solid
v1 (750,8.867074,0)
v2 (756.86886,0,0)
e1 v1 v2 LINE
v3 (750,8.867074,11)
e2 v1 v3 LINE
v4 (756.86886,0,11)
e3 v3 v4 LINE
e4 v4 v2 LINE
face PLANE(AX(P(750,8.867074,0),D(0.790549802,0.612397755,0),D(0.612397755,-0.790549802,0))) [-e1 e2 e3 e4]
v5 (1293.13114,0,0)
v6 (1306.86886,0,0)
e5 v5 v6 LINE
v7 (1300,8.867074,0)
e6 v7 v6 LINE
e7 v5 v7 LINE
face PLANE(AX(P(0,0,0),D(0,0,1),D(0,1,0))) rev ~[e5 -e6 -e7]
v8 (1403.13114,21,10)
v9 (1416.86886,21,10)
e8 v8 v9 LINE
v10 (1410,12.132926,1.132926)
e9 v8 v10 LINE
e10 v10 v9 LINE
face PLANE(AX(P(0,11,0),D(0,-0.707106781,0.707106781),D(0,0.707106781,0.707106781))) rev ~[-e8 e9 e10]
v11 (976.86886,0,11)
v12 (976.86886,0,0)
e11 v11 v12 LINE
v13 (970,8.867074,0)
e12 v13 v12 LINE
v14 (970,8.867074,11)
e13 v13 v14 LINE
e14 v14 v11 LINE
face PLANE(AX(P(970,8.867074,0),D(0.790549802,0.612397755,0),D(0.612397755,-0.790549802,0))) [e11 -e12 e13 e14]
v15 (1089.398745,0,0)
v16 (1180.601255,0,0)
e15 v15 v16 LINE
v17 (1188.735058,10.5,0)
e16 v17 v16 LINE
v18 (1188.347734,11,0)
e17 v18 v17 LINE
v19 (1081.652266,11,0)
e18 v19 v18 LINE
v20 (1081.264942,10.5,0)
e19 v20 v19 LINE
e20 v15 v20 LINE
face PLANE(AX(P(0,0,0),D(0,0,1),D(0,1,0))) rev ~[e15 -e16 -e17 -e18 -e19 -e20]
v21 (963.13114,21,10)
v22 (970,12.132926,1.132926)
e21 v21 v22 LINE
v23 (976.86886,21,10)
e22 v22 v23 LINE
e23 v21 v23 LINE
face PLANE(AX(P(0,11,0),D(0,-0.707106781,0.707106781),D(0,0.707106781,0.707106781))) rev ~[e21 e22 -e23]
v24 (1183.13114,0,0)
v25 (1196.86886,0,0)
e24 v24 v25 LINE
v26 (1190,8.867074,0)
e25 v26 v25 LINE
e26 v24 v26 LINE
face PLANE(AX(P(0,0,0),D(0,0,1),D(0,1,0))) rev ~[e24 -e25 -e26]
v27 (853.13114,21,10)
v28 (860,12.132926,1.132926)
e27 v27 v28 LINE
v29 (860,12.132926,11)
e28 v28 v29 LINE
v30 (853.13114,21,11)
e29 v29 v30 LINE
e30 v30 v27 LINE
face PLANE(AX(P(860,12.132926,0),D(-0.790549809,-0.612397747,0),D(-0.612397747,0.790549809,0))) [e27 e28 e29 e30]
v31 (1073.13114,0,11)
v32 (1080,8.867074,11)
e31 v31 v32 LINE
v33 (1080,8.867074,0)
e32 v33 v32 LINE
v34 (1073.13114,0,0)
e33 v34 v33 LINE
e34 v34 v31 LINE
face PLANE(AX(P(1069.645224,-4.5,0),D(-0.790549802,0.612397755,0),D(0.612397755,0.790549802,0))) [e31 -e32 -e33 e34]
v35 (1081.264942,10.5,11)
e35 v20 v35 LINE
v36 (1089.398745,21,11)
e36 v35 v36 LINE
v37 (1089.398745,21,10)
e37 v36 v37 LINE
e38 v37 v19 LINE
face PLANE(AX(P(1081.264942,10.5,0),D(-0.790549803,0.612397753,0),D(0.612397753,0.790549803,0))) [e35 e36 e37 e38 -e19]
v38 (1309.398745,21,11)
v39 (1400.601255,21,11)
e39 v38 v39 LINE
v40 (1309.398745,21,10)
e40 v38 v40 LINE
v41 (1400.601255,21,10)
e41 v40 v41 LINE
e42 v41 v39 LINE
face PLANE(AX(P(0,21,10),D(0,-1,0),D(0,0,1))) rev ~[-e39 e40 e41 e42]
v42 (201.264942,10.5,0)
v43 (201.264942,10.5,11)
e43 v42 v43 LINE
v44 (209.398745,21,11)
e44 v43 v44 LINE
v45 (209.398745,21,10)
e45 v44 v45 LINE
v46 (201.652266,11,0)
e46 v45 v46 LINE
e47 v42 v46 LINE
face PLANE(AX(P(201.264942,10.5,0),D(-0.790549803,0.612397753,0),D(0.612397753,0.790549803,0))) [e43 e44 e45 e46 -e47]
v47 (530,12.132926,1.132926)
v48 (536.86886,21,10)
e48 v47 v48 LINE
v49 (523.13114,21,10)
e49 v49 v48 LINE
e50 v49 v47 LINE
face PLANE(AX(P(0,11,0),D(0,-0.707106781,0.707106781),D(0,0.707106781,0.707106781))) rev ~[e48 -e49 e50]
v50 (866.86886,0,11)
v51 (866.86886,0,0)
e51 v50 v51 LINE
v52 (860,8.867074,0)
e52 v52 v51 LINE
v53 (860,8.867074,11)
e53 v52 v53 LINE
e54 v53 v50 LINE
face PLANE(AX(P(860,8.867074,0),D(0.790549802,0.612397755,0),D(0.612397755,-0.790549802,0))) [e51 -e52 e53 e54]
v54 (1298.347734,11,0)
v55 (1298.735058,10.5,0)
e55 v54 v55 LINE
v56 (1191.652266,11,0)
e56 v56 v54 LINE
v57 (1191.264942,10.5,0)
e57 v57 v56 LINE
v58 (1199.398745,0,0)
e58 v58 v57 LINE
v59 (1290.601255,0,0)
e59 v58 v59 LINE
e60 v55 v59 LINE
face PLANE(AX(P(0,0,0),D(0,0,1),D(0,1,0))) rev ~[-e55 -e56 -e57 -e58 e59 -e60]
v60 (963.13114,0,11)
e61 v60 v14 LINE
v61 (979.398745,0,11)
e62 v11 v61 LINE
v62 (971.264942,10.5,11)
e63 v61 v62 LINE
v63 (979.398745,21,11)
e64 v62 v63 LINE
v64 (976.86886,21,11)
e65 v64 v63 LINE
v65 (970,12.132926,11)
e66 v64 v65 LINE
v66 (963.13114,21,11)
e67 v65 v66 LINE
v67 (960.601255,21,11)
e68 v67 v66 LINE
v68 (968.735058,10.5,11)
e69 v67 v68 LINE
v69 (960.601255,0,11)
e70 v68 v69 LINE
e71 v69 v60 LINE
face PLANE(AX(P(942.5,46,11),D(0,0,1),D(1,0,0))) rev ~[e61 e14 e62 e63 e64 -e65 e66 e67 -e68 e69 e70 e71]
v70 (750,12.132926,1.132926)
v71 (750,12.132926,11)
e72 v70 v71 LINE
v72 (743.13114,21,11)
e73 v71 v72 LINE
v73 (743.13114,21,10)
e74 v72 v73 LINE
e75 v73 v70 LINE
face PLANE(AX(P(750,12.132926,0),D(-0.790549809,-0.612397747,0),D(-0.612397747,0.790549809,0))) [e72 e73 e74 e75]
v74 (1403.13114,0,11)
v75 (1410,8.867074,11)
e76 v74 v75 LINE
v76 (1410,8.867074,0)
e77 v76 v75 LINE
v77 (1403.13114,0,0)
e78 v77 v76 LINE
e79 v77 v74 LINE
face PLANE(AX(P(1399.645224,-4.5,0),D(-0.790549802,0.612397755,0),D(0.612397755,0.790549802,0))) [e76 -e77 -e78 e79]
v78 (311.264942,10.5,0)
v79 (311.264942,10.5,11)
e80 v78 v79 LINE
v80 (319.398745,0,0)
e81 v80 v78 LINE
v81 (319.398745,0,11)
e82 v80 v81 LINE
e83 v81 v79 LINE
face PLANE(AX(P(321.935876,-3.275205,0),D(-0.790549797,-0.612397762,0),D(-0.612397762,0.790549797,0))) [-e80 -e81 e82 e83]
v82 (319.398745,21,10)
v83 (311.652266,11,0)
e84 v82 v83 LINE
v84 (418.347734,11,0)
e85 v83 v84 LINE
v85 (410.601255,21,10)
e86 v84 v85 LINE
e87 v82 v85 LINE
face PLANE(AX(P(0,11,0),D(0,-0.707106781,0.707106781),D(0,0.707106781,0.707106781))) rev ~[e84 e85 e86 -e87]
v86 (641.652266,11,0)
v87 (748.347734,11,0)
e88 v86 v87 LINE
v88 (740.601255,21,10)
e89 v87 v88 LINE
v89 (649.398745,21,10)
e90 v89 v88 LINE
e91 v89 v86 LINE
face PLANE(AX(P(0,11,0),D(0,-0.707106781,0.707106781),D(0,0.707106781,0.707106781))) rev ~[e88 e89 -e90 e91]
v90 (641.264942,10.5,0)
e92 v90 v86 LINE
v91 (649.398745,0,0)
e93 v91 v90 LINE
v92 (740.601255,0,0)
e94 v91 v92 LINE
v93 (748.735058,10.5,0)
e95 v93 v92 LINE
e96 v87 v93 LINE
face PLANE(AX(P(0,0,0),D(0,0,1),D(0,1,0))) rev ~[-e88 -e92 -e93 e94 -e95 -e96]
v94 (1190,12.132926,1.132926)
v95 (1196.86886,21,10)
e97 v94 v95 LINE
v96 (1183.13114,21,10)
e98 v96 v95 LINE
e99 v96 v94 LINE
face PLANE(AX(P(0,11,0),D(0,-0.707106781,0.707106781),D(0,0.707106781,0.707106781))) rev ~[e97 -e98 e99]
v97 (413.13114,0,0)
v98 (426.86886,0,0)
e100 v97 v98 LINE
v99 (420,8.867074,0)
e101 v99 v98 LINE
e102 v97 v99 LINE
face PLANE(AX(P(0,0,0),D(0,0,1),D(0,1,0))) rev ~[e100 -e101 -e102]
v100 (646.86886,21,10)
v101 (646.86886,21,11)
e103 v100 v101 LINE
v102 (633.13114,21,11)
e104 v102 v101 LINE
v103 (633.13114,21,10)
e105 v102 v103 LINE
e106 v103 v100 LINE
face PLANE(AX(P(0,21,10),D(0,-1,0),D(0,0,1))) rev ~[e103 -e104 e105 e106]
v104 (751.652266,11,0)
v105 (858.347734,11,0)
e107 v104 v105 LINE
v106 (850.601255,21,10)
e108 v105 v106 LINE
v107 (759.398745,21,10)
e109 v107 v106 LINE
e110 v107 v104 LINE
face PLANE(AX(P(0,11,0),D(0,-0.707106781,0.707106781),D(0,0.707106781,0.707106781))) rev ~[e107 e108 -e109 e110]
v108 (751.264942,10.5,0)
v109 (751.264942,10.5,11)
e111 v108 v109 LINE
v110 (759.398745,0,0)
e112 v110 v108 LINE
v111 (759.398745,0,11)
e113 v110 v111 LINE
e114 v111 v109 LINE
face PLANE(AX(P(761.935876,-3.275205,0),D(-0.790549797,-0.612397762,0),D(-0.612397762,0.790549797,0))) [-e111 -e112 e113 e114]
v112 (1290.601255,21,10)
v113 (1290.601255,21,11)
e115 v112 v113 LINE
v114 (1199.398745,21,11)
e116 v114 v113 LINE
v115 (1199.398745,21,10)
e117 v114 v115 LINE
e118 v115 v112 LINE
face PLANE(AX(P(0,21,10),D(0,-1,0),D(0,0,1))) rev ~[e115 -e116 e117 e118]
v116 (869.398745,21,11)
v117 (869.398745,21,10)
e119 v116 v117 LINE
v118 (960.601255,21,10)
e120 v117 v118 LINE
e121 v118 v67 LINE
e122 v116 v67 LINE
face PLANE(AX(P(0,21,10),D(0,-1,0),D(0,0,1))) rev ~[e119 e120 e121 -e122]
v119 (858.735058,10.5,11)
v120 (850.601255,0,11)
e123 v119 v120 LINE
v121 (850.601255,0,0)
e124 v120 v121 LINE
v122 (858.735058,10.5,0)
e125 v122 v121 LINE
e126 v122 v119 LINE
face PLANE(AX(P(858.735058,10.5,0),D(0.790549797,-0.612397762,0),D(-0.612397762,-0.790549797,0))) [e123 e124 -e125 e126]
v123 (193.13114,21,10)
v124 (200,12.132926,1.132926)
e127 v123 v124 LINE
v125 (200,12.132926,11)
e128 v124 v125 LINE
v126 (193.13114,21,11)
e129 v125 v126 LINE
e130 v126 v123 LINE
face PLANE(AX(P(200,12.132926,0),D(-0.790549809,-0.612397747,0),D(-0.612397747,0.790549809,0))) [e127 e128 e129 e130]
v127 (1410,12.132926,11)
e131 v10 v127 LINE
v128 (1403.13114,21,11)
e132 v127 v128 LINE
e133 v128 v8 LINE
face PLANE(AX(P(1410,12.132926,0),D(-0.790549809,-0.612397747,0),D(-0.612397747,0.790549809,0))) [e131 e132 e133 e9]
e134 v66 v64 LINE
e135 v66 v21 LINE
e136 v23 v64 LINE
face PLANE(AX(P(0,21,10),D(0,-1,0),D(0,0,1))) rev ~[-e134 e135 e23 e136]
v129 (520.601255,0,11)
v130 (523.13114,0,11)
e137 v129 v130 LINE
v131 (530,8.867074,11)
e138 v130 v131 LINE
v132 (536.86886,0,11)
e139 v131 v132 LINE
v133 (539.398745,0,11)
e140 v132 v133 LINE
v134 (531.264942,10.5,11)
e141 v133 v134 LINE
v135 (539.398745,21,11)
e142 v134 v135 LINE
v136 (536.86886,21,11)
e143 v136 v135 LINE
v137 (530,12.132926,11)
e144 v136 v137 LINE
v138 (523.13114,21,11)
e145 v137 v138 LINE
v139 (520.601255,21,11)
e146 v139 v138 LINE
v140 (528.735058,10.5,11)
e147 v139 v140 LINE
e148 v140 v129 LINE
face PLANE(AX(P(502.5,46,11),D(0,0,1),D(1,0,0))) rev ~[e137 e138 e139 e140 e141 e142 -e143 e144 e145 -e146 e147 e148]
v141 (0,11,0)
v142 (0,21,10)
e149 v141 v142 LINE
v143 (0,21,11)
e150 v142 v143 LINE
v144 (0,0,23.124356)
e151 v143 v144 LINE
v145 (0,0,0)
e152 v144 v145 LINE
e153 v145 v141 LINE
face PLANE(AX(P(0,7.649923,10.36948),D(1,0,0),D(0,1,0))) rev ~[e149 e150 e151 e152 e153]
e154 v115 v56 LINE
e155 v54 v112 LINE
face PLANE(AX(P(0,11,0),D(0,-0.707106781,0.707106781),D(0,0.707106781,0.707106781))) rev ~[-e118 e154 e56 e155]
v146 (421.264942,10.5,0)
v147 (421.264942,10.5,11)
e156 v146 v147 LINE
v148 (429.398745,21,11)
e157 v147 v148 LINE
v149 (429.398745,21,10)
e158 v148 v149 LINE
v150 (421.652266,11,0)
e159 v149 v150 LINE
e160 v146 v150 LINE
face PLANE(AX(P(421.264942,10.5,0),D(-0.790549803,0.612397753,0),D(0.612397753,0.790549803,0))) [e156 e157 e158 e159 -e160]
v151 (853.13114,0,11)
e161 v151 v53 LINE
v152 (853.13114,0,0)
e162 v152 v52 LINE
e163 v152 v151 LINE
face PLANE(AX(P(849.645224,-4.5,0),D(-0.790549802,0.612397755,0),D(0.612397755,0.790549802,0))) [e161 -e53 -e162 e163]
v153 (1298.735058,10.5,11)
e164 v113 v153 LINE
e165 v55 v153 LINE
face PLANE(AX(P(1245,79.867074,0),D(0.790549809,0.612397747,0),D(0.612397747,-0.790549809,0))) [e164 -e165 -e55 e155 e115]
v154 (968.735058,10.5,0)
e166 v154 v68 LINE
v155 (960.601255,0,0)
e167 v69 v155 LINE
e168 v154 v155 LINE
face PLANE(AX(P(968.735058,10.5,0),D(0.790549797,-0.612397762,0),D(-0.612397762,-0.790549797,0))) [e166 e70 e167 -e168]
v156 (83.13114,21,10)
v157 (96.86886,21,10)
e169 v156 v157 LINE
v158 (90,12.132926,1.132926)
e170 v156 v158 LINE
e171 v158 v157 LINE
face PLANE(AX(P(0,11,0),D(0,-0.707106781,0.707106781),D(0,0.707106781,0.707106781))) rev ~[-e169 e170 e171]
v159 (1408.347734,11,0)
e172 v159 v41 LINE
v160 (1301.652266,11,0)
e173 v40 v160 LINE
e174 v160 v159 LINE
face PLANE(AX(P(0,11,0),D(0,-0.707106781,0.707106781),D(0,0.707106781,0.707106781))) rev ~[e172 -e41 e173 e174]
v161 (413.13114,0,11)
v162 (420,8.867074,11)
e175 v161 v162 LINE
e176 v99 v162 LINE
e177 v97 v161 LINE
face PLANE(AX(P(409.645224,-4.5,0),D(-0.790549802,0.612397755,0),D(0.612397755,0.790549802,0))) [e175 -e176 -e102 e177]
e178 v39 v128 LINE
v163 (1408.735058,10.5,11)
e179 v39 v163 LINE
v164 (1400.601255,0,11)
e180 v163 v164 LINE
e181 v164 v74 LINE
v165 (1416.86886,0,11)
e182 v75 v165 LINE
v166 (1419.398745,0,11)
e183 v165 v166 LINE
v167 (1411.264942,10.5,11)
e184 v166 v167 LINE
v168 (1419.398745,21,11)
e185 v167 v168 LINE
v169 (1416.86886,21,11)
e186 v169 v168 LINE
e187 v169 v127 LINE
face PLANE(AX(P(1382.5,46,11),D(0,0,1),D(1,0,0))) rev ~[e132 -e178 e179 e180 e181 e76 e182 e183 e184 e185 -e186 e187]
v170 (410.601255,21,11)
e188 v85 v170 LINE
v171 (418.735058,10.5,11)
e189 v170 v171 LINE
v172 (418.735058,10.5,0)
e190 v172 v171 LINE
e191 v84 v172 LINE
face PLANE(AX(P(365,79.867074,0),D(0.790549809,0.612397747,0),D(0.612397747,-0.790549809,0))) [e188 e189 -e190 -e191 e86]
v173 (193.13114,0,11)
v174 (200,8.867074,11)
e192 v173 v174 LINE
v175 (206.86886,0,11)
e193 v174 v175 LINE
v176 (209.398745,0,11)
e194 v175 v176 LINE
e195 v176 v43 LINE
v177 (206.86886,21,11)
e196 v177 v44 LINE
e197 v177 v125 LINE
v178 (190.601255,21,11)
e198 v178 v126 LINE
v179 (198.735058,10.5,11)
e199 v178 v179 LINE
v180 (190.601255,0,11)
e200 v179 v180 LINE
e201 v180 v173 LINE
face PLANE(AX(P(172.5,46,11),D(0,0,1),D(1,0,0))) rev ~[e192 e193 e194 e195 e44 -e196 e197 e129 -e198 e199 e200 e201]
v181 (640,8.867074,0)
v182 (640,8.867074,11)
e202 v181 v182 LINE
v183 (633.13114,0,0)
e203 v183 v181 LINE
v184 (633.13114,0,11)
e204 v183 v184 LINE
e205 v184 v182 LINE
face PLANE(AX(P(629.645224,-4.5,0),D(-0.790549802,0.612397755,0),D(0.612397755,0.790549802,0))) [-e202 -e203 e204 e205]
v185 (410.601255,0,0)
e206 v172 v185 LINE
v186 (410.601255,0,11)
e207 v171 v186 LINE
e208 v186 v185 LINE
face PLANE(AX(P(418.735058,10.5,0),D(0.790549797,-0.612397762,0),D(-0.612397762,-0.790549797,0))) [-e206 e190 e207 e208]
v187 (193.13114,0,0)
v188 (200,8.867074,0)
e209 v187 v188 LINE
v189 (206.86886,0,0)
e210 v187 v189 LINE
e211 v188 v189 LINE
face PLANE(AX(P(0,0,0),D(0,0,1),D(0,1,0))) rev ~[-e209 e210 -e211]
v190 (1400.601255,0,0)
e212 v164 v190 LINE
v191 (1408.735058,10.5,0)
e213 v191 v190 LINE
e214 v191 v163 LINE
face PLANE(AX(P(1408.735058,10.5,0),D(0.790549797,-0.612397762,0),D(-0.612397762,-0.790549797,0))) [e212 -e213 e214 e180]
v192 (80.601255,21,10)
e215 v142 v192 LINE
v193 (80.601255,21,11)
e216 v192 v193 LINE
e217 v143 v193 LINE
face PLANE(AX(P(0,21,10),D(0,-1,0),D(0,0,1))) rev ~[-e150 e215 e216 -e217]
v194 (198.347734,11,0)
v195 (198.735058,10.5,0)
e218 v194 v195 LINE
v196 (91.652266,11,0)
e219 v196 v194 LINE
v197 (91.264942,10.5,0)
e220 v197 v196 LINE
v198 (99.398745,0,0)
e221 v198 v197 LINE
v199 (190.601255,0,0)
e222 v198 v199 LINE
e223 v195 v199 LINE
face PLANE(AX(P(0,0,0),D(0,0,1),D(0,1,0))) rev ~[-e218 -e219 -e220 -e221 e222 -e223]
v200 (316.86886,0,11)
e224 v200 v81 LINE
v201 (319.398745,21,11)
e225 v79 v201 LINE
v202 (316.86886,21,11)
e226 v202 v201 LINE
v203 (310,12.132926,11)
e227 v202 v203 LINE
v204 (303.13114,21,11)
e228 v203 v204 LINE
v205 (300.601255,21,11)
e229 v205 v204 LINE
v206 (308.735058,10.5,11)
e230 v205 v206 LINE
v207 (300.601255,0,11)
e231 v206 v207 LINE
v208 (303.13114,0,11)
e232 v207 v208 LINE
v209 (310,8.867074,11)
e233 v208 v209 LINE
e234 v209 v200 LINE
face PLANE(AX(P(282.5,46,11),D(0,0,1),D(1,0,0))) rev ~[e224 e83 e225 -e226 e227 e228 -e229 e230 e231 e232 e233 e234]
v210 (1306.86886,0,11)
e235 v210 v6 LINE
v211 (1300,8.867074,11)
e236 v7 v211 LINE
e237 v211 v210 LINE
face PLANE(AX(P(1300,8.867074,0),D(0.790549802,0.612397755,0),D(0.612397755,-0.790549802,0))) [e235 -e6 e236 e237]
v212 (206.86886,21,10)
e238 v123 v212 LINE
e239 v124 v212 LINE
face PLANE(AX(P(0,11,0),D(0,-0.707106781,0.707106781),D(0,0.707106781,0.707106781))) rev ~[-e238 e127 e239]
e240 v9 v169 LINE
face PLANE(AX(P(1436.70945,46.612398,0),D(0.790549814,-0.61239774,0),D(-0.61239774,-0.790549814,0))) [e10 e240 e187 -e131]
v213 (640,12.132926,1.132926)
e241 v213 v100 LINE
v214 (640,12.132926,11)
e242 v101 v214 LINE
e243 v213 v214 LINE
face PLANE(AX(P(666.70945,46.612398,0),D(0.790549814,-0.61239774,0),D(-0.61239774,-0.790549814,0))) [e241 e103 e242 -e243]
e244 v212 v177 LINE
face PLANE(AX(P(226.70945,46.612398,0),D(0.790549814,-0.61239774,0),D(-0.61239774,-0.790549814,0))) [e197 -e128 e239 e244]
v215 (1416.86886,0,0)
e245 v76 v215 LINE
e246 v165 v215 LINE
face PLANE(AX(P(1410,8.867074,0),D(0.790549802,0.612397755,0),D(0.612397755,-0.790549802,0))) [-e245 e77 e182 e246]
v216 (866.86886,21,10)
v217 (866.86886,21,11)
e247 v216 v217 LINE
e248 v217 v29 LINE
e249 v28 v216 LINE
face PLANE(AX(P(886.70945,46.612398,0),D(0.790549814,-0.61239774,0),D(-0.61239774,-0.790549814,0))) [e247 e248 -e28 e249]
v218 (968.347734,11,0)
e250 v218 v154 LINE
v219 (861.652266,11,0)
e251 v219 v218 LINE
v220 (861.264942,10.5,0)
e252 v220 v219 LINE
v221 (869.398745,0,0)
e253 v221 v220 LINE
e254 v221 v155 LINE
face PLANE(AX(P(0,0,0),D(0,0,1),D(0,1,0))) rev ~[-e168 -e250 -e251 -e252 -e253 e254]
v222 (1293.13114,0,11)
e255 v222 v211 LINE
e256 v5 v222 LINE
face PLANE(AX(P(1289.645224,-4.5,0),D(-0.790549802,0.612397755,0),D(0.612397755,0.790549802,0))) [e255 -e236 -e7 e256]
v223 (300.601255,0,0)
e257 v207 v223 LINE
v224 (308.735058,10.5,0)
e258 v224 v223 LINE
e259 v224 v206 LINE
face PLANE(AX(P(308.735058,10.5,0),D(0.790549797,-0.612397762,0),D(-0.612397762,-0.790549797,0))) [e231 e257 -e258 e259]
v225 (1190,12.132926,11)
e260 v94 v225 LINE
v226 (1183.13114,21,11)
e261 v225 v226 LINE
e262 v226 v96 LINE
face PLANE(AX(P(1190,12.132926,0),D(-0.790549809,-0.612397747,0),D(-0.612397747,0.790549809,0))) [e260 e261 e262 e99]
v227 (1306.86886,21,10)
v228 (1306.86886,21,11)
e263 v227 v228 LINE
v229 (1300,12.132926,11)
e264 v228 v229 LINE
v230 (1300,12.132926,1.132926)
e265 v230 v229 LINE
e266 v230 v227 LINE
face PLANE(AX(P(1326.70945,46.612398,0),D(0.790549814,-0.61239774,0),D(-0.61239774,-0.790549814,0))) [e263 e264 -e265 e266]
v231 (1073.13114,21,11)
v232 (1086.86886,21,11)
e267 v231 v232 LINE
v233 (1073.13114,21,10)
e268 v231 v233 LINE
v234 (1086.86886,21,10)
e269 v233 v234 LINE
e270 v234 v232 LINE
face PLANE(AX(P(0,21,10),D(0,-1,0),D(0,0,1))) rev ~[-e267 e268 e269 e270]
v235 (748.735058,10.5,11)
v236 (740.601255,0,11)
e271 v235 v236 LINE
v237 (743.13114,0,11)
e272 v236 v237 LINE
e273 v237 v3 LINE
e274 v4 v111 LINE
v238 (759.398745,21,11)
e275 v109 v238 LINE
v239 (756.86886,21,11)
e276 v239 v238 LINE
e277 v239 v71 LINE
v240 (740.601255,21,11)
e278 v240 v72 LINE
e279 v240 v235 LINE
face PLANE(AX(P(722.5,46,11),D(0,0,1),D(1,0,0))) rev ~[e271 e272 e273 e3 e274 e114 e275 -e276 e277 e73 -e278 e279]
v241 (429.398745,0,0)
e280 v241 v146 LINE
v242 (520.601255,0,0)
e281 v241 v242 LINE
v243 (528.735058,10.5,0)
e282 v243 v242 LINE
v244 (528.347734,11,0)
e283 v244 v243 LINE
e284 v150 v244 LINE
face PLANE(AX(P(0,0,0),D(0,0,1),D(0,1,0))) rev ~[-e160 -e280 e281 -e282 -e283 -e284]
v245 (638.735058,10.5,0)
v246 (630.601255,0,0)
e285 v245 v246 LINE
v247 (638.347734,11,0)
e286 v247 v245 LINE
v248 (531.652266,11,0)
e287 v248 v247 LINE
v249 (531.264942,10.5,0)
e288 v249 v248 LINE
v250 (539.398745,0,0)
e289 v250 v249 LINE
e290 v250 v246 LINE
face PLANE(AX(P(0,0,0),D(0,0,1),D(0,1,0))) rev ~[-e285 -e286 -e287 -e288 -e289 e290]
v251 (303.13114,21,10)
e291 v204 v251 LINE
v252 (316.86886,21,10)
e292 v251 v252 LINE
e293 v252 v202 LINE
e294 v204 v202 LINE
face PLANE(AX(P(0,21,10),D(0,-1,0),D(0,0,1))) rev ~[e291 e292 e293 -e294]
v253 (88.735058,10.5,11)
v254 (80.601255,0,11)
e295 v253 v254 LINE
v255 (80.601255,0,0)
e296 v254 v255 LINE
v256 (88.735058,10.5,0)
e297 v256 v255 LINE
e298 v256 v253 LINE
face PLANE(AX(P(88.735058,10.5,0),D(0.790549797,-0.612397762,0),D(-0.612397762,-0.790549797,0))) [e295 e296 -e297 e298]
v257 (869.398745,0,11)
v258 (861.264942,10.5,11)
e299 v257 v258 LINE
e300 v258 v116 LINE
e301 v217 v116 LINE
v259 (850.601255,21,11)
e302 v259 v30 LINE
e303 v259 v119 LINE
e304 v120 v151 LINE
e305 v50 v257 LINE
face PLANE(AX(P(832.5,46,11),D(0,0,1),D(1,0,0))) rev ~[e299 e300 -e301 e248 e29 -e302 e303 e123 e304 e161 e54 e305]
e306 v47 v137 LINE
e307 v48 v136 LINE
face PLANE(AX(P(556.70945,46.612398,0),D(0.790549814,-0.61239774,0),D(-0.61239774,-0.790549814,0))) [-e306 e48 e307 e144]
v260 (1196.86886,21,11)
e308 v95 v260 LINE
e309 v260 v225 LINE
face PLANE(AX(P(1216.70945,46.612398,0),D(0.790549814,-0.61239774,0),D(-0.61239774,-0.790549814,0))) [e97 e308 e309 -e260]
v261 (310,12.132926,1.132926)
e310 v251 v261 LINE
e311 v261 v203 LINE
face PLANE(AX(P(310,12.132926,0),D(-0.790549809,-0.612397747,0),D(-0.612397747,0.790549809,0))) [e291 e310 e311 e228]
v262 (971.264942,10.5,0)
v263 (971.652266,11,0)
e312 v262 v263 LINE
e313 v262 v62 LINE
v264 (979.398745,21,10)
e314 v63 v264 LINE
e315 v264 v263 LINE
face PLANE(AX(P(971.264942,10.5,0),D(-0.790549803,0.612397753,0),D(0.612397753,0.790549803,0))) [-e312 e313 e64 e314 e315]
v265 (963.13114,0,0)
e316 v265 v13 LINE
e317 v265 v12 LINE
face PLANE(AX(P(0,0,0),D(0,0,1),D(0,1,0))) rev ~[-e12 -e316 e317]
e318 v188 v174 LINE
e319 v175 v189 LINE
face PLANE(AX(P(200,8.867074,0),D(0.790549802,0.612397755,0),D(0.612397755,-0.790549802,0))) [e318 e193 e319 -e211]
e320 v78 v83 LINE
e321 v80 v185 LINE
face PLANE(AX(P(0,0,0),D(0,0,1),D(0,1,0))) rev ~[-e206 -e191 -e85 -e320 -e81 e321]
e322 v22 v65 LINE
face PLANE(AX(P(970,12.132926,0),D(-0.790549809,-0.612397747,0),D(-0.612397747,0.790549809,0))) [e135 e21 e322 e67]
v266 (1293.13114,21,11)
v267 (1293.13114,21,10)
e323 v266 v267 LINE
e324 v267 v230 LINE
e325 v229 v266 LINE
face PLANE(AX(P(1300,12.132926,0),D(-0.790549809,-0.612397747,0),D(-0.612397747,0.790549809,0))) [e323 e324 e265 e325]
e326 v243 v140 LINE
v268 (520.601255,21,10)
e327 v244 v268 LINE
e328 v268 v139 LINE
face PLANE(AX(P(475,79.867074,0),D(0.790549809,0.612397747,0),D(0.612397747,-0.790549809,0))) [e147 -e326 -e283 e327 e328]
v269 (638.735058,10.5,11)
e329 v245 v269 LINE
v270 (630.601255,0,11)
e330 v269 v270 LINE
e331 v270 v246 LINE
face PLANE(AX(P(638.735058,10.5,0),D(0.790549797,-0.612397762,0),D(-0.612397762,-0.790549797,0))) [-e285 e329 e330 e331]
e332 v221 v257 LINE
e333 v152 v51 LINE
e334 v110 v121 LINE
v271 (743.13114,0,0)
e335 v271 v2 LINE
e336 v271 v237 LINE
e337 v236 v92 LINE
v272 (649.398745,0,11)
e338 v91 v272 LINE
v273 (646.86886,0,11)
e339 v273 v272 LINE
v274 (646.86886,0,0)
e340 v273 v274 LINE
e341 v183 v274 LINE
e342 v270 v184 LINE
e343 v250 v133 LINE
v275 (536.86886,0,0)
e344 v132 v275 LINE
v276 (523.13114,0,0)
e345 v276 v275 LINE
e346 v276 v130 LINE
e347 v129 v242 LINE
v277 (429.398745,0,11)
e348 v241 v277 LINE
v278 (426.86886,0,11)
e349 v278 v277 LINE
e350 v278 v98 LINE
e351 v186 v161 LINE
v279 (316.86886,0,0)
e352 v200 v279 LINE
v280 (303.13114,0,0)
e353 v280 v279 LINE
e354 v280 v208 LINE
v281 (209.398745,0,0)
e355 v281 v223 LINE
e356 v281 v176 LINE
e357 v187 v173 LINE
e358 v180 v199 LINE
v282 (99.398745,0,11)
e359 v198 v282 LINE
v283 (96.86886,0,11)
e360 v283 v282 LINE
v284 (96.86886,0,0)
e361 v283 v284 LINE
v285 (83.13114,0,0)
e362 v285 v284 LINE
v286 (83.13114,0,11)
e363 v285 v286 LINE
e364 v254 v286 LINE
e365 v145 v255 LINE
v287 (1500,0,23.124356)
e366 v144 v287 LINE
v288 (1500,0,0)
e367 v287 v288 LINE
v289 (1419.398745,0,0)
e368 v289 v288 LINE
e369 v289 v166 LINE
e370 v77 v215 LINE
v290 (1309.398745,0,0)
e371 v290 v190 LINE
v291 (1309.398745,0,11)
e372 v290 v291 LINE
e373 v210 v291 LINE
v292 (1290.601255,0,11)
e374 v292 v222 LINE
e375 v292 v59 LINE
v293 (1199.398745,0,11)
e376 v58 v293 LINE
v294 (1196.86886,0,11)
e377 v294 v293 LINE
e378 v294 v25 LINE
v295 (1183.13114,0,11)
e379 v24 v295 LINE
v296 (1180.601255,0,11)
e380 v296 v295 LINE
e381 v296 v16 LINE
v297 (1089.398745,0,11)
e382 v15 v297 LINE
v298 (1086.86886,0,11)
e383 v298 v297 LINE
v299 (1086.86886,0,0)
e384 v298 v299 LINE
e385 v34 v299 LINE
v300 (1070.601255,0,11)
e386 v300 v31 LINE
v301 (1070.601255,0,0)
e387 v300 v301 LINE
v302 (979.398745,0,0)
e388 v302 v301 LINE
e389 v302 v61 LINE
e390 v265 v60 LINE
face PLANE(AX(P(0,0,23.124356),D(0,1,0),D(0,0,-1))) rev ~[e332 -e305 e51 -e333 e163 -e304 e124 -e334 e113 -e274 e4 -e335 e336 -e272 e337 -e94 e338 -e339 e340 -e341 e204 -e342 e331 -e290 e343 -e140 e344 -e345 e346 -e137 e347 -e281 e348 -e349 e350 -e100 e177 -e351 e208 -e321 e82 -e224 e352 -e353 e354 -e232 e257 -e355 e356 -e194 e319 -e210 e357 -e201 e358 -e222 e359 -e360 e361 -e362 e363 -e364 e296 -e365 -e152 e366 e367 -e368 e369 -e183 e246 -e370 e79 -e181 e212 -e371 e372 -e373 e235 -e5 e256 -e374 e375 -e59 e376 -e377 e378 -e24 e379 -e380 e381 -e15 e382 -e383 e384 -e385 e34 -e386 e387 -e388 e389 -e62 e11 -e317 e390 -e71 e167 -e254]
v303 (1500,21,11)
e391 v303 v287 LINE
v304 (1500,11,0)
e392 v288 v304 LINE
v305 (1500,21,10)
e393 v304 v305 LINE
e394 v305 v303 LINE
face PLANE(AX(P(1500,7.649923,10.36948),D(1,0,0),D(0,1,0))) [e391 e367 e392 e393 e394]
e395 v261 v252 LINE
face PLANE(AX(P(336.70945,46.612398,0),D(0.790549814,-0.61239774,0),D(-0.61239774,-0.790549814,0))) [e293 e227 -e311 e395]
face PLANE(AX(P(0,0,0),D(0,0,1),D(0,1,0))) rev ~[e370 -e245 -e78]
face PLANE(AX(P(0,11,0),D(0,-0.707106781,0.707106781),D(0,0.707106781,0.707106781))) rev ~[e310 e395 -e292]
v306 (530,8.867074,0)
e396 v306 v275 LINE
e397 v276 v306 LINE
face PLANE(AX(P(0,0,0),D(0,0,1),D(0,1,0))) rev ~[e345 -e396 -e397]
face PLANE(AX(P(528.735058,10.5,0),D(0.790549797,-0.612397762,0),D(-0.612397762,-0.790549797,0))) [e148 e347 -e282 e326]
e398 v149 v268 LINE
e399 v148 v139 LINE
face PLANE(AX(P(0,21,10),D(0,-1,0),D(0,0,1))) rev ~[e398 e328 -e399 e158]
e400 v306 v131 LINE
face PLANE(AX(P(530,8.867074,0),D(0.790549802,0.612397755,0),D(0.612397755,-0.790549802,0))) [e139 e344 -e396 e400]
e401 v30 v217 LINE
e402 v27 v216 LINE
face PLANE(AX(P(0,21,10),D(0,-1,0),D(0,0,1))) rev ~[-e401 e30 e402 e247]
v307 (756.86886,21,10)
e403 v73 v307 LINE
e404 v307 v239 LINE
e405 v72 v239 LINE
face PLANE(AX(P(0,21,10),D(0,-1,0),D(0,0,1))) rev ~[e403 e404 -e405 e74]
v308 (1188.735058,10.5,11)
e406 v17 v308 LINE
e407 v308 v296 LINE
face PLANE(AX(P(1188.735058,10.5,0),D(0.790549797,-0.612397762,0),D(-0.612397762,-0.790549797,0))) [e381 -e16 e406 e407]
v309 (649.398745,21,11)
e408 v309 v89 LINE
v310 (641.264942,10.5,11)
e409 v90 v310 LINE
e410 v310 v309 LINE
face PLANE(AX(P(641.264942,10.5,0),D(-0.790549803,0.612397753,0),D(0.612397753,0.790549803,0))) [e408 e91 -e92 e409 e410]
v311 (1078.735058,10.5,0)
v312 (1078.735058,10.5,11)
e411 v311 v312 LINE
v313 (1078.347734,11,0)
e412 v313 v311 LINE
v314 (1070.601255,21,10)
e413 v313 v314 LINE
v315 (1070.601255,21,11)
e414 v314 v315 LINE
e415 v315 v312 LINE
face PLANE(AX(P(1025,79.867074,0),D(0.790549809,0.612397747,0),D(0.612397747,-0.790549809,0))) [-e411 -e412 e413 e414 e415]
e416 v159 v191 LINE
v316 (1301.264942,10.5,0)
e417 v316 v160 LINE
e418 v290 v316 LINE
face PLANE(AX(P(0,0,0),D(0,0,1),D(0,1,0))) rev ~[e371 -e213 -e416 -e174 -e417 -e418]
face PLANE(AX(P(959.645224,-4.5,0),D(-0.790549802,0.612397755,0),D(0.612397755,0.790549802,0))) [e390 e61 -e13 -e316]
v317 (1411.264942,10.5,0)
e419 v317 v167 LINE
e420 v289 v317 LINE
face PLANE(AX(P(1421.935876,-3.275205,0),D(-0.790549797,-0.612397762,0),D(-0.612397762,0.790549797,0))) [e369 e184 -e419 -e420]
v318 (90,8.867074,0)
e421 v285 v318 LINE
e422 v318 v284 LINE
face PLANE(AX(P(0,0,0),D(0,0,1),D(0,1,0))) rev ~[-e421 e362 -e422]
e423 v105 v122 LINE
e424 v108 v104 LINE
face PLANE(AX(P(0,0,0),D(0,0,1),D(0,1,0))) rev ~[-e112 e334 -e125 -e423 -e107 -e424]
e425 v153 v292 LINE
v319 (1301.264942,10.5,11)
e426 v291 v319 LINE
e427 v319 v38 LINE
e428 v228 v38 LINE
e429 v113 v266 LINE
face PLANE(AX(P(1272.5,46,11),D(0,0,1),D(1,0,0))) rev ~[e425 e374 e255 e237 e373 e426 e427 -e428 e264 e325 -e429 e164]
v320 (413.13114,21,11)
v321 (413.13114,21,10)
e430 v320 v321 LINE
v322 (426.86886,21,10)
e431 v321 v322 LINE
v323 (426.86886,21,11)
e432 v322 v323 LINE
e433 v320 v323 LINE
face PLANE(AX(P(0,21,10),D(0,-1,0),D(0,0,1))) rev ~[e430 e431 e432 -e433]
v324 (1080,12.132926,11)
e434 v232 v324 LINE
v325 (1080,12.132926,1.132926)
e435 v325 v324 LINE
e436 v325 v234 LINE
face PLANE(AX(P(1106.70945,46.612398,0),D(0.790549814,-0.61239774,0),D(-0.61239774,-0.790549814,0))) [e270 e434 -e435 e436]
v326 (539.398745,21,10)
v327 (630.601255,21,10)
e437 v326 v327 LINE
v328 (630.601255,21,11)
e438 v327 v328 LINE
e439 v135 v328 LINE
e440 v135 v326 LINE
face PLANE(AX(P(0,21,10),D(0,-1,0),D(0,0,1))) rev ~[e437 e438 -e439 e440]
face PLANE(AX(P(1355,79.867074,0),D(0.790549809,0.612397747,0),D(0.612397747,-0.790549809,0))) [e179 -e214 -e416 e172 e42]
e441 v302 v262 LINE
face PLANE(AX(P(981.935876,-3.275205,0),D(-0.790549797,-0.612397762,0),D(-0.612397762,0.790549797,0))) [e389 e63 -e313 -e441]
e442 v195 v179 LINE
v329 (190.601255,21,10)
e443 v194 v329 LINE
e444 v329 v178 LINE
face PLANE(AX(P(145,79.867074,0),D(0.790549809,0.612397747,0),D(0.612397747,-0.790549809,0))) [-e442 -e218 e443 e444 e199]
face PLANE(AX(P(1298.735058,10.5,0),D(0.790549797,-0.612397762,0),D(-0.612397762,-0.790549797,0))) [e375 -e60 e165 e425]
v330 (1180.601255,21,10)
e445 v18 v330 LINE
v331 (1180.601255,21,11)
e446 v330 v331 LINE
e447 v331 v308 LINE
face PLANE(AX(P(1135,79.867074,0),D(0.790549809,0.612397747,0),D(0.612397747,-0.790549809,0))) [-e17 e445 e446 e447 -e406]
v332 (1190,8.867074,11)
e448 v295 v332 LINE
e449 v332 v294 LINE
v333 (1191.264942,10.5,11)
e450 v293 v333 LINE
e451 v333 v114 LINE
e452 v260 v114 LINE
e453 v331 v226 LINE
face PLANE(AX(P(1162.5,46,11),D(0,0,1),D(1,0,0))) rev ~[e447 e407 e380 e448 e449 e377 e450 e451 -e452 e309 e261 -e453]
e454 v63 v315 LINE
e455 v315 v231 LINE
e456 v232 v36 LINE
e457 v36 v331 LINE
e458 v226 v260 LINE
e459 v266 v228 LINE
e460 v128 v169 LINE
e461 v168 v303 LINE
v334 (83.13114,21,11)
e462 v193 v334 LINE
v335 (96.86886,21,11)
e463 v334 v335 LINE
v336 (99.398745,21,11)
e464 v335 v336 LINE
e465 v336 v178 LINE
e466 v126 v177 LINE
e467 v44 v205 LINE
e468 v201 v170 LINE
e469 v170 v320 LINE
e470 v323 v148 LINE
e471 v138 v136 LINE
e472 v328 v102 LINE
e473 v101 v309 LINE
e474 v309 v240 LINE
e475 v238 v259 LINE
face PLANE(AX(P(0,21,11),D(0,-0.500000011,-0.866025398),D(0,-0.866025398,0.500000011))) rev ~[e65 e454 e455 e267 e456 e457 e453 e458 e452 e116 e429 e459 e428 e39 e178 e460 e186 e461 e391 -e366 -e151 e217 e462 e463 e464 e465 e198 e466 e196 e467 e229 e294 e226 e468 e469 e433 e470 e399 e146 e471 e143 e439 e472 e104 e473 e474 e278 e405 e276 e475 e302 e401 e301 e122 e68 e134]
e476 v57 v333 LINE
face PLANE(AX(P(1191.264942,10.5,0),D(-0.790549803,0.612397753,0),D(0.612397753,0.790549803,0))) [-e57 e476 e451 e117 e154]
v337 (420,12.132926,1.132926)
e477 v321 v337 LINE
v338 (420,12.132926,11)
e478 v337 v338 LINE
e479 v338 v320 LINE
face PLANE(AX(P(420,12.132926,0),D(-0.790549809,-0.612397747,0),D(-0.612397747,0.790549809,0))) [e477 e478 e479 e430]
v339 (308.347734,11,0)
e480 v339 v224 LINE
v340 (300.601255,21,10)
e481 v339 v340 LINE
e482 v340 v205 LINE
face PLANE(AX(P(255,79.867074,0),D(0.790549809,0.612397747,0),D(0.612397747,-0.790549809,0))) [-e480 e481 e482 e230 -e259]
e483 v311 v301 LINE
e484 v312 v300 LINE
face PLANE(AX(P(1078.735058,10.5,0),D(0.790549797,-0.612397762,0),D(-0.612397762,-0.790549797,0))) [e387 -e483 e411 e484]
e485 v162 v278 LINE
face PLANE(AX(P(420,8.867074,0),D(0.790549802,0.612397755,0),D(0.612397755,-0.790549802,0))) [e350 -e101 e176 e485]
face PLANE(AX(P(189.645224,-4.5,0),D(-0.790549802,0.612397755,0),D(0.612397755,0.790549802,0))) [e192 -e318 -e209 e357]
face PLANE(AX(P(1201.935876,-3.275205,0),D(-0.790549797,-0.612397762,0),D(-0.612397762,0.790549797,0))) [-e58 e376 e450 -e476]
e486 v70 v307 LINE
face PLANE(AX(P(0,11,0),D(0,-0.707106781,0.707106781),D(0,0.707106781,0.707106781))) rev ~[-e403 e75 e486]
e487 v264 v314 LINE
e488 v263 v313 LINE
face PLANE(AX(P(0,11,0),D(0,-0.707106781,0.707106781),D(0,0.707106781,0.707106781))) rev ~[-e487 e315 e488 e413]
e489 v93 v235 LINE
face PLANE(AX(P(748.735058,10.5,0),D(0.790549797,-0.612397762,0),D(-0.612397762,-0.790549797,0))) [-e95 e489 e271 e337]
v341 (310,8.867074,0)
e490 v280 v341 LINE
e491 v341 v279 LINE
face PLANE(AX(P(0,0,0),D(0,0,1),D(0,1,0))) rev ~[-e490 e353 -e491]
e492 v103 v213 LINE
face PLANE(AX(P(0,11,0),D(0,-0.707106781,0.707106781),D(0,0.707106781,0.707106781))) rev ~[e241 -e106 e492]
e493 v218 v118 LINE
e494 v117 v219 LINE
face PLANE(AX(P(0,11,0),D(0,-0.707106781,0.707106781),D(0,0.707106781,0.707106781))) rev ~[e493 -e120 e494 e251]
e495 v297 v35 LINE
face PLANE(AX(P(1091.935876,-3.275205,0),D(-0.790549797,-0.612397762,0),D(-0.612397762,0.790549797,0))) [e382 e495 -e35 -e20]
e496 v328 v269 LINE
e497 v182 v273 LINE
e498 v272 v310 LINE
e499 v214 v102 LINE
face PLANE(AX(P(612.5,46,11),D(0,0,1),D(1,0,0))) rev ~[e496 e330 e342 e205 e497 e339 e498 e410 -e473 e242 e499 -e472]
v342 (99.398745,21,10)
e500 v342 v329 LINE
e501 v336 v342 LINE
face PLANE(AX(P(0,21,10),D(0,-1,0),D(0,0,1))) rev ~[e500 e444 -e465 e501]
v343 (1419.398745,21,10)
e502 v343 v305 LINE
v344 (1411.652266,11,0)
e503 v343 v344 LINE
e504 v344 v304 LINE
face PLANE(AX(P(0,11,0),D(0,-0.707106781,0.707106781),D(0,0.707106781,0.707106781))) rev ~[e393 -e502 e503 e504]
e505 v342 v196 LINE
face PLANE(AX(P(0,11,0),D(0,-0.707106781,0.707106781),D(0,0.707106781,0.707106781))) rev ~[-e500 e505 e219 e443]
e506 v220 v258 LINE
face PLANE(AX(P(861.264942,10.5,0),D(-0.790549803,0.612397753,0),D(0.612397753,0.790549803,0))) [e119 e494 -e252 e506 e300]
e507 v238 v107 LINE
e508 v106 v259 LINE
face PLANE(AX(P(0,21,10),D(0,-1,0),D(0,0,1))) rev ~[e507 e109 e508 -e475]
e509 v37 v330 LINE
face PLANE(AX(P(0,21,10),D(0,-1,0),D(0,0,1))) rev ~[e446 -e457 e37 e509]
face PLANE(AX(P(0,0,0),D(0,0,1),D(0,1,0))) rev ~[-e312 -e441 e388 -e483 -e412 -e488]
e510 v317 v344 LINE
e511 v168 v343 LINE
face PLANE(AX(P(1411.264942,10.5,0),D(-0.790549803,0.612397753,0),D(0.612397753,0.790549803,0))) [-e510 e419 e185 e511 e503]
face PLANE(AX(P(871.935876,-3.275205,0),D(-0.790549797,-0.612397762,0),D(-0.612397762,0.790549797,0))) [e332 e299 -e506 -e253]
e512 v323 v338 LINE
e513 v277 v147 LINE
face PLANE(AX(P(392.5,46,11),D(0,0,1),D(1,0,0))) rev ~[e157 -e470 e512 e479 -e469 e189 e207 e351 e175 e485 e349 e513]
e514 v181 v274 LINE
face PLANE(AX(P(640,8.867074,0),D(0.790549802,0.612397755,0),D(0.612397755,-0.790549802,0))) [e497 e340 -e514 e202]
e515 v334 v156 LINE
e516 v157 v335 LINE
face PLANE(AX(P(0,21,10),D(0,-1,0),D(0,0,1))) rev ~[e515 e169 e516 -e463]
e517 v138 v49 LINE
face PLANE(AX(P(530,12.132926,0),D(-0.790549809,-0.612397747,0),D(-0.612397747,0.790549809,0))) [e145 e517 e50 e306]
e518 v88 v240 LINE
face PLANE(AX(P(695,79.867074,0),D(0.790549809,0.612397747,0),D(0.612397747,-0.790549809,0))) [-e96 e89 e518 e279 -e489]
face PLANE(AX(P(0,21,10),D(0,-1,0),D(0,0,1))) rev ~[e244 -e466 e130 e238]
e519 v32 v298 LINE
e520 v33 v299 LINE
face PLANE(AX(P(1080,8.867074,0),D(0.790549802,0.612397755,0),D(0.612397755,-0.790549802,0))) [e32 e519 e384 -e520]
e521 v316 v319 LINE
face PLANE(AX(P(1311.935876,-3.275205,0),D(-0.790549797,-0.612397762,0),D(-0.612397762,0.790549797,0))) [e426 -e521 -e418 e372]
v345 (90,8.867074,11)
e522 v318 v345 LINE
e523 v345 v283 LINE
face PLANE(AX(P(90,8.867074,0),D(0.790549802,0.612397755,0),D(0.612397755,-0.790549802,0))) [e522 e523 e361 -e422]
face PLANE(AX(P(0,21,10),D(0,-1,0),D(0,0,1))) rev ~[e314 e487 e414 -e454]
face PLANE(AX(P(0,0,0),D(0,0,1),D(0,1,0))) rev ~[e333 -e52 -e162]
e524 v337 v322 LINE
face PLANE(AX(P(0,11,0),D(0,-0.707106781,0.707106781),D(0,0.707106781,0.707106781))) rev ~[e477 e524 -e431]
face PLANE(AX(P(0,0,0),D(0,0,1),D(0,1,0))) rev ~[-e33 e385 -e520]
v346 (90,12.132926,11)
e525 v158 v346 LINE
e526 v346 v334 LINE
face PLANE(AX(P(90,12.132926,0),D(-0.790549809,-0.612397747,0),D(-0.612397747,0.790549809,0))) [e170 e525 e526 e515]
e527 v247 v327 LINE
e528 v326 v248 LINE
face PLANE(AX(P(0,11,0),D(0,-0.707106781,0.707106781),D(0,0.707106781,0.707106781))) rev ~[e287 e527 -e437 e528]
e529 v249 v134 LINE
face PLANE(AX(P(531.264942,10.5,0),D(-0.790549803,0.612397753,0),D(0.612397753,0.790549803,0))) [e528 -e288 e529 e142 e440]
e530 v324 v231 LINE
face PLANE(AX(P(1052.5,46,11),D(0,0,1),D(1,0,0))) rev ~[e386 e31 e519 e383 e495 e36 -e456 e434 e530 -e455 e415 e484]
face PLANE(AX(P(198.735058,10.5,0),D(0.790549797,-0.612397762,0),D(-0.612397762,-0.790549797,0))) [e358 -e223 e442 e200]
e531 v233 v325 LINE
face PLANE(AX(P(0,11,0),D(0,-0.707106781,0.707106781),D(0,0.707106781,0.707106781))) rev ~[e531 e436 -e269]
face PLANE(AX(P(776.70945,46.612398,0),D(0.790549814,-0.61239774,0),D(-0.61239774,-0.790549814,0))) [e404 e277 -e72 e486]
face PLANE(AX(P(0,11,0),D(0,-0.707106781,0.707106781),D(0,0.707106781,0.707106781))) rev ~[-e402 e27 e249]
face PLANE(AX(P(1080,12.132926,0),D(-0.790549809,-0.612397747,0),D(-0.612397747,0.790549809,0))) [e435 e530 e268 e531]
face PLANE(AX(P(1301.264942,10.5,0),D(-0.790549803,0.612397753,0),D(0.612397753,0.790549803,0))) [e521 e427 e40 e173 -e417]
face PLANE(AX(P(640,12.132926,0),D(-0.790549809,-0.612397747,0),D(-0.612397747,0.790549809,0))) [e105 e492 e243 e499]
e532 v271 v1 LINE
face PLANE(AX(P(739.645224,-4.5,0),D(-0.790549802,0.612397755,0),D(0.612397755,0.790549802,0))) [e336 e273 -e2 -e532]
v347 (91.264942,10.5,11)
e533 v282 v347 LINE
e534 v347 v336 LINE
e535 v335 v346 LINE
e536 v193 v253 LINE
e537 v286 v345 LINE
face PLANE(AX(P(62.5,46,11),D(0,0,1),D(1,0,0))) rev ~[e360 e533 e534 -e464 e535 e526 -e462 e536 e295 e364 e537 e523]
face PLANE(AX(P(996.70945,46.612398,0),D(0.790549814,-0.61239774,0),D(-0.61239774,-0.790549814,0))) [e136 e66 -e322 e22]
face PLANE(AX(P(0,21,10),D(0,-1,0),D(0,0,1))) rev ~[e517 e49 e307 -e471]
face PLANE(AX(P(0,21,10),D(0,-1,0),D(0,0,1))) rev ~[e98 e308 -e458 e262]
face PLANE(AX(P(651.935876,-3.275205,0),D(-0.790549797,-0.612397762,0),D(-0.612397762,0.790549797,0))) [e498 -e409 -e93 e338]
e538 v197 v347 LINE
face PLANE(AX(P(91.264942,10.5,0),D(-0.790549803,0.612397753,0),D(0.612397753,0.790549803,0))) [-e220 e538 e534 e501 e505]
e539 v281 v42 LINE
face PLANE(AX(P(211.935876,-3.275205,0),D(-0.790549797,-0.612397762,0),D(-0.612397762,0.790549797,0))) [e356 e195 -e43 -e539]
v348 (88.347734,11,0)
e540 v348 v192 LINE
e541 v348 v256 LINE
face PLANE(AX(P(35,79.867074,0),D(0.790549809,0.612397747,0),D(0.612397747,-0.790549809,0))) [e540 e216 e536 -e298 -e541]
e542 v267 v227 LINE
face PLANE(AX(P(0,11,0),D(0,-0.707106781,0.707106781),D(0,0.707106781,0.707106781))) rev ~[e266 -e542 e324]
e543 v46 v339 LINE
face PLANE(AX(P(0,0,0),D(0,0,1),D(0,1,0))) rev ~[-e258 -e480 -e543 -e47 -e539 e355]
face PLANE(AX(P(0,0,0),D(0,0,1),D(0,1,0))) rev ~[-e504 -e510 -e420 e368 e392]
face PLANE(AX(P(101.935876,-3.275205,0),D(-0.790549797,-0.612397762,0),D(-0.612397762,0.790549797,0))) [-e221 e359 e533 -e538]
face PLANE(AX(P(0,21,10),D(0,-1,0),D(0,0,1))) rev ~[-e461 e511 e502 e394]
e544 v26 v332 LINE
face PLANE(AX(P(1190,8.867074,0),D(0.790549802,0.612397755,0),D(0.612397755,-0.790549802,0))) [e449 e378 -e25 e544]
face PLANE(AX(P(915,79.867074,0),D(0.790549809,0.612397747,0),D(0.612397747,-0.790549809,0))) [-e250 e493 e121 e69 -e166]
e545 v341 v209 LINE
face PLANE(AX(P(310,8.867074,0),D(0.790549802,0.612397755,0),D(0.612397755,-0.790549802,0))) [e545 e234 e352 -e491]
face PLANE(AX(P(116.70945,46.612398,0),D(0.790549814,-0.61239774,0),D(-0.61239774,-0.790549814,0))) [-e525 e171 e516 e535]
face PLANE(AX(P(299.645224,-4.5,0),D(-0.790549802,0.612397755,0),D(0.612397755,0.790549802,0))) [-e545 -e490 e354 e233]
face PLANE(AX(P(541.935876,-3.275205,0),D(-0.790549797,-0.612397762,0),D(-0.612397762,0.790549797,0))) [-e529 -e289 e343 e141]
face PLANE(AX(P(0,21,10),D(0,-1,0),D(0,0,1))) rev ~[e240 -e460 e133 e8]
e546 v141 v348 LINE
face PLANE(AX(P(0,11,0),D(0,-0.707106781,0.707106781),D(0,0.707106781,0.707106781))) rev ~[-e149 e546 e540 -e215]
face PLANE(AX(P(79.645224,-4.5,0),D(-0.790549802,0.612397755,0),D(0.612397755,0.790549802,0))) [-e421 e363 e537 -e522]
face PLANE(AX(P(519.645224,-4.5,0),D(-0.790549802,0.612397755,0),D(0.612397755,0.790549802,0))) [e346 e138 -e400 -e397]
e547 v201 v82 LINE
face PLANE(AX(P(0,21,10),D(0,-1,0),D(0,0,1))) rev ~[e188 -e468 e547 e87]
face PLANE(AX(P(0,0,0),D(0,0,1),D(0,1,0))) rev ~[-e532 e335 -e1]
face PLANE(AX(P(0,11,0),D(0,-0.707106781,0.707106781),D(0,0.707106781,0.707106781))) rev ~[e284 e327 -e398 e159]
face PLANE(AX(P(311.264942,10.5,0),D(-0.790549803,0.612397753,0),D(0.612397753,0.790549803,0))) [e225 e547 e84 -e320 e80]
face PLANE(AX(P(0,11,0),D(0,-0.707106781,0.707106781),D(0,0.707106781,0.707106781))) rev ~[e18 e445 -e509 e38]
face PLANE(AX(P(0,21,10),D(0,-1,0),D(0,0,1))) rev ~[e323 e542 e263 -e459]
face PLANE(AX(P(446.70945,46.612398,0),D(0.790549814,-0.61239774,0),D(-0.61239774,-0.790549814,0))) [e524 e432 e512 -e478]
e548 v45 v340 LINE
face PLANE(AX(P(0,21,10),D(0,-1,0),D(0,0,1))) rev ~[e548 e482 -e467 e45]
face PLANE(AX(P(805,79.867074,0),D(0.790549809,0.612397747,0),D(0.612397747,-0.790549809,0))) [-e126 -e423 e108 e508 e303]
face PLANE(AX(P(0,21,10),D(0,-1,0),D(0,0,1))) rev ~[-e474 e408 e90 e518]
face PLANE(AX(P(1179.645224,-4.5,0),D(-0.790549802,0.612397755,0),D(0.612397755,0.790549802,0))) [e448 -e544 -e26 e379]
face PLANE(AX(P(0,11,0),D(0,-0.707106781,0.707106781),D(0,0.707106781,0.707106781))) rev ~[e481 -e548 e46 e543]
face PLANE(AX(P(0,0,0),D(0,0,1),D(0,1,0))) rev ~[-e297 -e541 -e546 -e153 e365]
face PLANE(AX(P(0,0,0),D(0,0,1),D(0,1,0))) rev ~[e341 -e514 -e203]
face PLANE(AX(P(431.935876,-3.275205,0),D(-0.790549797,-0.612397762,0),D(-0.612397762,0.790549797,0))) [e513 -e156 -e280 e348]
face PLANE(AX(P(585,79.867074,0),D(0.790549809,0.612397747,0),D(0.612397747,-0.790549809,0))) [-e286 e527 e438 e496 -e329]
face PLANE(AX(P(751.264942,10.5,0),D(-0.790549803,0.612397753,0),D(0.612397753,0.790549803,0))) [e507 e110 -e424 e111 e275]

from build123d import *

# Parameters (mm, degrees)
PAD004_DEPTH        = 1500
POCKET003_DEPTH     = 11
LINEARPATTERN_COUNT = 14
LINEARPATTERN_PITCH = 110


with BuildPart() as part:
    # Sketch008 → Pad004 (new body)
    with BuildSketch(Plane.YZ):
        Polygon((0, 0), (11, 0), (21, 10), (21, 11), (0, 23.124356), align=None)
    extrude(amount=PAD004_DEPTH)

    # Sketch009 → Pocket003 (cut)
    with BuildSketch(Plane.XY):
        Polygon((6.70945, 46.612398), (8.29055, 45.387602), (35, 79.867074), (88.735058, 10.5), (78.064124, -3.275205), (79.645224, -4.5), (90, 8.867074), (100.354776, -4.5), (101.935876, -3.275205), (91.264942, 10.5), (118.29055, 45.387602), (116.70945, 46.612398), (90, 12.132926), (36.264942, 81.5), (46.935876, 95.275205), (45.354776, 96.5), (35, 83.132926), (24.645224, 96.5), (23.064124, 95.275205), (33.735058, 81.5), align=None)
    pocket003 = extrude(amount=POCKET003_DEPTH, mode=Mode.SUBTRACT)

    # LinearPattern: Pocket003 ×14
    with Locations(*[(i * LINEARPATTERN_PITCH, 0, 0) for i in range(1, LINEARPATTERN_COUNT)]):
        add(pocket003, mode=Mode.SUBTRACT)


solid = part.part
